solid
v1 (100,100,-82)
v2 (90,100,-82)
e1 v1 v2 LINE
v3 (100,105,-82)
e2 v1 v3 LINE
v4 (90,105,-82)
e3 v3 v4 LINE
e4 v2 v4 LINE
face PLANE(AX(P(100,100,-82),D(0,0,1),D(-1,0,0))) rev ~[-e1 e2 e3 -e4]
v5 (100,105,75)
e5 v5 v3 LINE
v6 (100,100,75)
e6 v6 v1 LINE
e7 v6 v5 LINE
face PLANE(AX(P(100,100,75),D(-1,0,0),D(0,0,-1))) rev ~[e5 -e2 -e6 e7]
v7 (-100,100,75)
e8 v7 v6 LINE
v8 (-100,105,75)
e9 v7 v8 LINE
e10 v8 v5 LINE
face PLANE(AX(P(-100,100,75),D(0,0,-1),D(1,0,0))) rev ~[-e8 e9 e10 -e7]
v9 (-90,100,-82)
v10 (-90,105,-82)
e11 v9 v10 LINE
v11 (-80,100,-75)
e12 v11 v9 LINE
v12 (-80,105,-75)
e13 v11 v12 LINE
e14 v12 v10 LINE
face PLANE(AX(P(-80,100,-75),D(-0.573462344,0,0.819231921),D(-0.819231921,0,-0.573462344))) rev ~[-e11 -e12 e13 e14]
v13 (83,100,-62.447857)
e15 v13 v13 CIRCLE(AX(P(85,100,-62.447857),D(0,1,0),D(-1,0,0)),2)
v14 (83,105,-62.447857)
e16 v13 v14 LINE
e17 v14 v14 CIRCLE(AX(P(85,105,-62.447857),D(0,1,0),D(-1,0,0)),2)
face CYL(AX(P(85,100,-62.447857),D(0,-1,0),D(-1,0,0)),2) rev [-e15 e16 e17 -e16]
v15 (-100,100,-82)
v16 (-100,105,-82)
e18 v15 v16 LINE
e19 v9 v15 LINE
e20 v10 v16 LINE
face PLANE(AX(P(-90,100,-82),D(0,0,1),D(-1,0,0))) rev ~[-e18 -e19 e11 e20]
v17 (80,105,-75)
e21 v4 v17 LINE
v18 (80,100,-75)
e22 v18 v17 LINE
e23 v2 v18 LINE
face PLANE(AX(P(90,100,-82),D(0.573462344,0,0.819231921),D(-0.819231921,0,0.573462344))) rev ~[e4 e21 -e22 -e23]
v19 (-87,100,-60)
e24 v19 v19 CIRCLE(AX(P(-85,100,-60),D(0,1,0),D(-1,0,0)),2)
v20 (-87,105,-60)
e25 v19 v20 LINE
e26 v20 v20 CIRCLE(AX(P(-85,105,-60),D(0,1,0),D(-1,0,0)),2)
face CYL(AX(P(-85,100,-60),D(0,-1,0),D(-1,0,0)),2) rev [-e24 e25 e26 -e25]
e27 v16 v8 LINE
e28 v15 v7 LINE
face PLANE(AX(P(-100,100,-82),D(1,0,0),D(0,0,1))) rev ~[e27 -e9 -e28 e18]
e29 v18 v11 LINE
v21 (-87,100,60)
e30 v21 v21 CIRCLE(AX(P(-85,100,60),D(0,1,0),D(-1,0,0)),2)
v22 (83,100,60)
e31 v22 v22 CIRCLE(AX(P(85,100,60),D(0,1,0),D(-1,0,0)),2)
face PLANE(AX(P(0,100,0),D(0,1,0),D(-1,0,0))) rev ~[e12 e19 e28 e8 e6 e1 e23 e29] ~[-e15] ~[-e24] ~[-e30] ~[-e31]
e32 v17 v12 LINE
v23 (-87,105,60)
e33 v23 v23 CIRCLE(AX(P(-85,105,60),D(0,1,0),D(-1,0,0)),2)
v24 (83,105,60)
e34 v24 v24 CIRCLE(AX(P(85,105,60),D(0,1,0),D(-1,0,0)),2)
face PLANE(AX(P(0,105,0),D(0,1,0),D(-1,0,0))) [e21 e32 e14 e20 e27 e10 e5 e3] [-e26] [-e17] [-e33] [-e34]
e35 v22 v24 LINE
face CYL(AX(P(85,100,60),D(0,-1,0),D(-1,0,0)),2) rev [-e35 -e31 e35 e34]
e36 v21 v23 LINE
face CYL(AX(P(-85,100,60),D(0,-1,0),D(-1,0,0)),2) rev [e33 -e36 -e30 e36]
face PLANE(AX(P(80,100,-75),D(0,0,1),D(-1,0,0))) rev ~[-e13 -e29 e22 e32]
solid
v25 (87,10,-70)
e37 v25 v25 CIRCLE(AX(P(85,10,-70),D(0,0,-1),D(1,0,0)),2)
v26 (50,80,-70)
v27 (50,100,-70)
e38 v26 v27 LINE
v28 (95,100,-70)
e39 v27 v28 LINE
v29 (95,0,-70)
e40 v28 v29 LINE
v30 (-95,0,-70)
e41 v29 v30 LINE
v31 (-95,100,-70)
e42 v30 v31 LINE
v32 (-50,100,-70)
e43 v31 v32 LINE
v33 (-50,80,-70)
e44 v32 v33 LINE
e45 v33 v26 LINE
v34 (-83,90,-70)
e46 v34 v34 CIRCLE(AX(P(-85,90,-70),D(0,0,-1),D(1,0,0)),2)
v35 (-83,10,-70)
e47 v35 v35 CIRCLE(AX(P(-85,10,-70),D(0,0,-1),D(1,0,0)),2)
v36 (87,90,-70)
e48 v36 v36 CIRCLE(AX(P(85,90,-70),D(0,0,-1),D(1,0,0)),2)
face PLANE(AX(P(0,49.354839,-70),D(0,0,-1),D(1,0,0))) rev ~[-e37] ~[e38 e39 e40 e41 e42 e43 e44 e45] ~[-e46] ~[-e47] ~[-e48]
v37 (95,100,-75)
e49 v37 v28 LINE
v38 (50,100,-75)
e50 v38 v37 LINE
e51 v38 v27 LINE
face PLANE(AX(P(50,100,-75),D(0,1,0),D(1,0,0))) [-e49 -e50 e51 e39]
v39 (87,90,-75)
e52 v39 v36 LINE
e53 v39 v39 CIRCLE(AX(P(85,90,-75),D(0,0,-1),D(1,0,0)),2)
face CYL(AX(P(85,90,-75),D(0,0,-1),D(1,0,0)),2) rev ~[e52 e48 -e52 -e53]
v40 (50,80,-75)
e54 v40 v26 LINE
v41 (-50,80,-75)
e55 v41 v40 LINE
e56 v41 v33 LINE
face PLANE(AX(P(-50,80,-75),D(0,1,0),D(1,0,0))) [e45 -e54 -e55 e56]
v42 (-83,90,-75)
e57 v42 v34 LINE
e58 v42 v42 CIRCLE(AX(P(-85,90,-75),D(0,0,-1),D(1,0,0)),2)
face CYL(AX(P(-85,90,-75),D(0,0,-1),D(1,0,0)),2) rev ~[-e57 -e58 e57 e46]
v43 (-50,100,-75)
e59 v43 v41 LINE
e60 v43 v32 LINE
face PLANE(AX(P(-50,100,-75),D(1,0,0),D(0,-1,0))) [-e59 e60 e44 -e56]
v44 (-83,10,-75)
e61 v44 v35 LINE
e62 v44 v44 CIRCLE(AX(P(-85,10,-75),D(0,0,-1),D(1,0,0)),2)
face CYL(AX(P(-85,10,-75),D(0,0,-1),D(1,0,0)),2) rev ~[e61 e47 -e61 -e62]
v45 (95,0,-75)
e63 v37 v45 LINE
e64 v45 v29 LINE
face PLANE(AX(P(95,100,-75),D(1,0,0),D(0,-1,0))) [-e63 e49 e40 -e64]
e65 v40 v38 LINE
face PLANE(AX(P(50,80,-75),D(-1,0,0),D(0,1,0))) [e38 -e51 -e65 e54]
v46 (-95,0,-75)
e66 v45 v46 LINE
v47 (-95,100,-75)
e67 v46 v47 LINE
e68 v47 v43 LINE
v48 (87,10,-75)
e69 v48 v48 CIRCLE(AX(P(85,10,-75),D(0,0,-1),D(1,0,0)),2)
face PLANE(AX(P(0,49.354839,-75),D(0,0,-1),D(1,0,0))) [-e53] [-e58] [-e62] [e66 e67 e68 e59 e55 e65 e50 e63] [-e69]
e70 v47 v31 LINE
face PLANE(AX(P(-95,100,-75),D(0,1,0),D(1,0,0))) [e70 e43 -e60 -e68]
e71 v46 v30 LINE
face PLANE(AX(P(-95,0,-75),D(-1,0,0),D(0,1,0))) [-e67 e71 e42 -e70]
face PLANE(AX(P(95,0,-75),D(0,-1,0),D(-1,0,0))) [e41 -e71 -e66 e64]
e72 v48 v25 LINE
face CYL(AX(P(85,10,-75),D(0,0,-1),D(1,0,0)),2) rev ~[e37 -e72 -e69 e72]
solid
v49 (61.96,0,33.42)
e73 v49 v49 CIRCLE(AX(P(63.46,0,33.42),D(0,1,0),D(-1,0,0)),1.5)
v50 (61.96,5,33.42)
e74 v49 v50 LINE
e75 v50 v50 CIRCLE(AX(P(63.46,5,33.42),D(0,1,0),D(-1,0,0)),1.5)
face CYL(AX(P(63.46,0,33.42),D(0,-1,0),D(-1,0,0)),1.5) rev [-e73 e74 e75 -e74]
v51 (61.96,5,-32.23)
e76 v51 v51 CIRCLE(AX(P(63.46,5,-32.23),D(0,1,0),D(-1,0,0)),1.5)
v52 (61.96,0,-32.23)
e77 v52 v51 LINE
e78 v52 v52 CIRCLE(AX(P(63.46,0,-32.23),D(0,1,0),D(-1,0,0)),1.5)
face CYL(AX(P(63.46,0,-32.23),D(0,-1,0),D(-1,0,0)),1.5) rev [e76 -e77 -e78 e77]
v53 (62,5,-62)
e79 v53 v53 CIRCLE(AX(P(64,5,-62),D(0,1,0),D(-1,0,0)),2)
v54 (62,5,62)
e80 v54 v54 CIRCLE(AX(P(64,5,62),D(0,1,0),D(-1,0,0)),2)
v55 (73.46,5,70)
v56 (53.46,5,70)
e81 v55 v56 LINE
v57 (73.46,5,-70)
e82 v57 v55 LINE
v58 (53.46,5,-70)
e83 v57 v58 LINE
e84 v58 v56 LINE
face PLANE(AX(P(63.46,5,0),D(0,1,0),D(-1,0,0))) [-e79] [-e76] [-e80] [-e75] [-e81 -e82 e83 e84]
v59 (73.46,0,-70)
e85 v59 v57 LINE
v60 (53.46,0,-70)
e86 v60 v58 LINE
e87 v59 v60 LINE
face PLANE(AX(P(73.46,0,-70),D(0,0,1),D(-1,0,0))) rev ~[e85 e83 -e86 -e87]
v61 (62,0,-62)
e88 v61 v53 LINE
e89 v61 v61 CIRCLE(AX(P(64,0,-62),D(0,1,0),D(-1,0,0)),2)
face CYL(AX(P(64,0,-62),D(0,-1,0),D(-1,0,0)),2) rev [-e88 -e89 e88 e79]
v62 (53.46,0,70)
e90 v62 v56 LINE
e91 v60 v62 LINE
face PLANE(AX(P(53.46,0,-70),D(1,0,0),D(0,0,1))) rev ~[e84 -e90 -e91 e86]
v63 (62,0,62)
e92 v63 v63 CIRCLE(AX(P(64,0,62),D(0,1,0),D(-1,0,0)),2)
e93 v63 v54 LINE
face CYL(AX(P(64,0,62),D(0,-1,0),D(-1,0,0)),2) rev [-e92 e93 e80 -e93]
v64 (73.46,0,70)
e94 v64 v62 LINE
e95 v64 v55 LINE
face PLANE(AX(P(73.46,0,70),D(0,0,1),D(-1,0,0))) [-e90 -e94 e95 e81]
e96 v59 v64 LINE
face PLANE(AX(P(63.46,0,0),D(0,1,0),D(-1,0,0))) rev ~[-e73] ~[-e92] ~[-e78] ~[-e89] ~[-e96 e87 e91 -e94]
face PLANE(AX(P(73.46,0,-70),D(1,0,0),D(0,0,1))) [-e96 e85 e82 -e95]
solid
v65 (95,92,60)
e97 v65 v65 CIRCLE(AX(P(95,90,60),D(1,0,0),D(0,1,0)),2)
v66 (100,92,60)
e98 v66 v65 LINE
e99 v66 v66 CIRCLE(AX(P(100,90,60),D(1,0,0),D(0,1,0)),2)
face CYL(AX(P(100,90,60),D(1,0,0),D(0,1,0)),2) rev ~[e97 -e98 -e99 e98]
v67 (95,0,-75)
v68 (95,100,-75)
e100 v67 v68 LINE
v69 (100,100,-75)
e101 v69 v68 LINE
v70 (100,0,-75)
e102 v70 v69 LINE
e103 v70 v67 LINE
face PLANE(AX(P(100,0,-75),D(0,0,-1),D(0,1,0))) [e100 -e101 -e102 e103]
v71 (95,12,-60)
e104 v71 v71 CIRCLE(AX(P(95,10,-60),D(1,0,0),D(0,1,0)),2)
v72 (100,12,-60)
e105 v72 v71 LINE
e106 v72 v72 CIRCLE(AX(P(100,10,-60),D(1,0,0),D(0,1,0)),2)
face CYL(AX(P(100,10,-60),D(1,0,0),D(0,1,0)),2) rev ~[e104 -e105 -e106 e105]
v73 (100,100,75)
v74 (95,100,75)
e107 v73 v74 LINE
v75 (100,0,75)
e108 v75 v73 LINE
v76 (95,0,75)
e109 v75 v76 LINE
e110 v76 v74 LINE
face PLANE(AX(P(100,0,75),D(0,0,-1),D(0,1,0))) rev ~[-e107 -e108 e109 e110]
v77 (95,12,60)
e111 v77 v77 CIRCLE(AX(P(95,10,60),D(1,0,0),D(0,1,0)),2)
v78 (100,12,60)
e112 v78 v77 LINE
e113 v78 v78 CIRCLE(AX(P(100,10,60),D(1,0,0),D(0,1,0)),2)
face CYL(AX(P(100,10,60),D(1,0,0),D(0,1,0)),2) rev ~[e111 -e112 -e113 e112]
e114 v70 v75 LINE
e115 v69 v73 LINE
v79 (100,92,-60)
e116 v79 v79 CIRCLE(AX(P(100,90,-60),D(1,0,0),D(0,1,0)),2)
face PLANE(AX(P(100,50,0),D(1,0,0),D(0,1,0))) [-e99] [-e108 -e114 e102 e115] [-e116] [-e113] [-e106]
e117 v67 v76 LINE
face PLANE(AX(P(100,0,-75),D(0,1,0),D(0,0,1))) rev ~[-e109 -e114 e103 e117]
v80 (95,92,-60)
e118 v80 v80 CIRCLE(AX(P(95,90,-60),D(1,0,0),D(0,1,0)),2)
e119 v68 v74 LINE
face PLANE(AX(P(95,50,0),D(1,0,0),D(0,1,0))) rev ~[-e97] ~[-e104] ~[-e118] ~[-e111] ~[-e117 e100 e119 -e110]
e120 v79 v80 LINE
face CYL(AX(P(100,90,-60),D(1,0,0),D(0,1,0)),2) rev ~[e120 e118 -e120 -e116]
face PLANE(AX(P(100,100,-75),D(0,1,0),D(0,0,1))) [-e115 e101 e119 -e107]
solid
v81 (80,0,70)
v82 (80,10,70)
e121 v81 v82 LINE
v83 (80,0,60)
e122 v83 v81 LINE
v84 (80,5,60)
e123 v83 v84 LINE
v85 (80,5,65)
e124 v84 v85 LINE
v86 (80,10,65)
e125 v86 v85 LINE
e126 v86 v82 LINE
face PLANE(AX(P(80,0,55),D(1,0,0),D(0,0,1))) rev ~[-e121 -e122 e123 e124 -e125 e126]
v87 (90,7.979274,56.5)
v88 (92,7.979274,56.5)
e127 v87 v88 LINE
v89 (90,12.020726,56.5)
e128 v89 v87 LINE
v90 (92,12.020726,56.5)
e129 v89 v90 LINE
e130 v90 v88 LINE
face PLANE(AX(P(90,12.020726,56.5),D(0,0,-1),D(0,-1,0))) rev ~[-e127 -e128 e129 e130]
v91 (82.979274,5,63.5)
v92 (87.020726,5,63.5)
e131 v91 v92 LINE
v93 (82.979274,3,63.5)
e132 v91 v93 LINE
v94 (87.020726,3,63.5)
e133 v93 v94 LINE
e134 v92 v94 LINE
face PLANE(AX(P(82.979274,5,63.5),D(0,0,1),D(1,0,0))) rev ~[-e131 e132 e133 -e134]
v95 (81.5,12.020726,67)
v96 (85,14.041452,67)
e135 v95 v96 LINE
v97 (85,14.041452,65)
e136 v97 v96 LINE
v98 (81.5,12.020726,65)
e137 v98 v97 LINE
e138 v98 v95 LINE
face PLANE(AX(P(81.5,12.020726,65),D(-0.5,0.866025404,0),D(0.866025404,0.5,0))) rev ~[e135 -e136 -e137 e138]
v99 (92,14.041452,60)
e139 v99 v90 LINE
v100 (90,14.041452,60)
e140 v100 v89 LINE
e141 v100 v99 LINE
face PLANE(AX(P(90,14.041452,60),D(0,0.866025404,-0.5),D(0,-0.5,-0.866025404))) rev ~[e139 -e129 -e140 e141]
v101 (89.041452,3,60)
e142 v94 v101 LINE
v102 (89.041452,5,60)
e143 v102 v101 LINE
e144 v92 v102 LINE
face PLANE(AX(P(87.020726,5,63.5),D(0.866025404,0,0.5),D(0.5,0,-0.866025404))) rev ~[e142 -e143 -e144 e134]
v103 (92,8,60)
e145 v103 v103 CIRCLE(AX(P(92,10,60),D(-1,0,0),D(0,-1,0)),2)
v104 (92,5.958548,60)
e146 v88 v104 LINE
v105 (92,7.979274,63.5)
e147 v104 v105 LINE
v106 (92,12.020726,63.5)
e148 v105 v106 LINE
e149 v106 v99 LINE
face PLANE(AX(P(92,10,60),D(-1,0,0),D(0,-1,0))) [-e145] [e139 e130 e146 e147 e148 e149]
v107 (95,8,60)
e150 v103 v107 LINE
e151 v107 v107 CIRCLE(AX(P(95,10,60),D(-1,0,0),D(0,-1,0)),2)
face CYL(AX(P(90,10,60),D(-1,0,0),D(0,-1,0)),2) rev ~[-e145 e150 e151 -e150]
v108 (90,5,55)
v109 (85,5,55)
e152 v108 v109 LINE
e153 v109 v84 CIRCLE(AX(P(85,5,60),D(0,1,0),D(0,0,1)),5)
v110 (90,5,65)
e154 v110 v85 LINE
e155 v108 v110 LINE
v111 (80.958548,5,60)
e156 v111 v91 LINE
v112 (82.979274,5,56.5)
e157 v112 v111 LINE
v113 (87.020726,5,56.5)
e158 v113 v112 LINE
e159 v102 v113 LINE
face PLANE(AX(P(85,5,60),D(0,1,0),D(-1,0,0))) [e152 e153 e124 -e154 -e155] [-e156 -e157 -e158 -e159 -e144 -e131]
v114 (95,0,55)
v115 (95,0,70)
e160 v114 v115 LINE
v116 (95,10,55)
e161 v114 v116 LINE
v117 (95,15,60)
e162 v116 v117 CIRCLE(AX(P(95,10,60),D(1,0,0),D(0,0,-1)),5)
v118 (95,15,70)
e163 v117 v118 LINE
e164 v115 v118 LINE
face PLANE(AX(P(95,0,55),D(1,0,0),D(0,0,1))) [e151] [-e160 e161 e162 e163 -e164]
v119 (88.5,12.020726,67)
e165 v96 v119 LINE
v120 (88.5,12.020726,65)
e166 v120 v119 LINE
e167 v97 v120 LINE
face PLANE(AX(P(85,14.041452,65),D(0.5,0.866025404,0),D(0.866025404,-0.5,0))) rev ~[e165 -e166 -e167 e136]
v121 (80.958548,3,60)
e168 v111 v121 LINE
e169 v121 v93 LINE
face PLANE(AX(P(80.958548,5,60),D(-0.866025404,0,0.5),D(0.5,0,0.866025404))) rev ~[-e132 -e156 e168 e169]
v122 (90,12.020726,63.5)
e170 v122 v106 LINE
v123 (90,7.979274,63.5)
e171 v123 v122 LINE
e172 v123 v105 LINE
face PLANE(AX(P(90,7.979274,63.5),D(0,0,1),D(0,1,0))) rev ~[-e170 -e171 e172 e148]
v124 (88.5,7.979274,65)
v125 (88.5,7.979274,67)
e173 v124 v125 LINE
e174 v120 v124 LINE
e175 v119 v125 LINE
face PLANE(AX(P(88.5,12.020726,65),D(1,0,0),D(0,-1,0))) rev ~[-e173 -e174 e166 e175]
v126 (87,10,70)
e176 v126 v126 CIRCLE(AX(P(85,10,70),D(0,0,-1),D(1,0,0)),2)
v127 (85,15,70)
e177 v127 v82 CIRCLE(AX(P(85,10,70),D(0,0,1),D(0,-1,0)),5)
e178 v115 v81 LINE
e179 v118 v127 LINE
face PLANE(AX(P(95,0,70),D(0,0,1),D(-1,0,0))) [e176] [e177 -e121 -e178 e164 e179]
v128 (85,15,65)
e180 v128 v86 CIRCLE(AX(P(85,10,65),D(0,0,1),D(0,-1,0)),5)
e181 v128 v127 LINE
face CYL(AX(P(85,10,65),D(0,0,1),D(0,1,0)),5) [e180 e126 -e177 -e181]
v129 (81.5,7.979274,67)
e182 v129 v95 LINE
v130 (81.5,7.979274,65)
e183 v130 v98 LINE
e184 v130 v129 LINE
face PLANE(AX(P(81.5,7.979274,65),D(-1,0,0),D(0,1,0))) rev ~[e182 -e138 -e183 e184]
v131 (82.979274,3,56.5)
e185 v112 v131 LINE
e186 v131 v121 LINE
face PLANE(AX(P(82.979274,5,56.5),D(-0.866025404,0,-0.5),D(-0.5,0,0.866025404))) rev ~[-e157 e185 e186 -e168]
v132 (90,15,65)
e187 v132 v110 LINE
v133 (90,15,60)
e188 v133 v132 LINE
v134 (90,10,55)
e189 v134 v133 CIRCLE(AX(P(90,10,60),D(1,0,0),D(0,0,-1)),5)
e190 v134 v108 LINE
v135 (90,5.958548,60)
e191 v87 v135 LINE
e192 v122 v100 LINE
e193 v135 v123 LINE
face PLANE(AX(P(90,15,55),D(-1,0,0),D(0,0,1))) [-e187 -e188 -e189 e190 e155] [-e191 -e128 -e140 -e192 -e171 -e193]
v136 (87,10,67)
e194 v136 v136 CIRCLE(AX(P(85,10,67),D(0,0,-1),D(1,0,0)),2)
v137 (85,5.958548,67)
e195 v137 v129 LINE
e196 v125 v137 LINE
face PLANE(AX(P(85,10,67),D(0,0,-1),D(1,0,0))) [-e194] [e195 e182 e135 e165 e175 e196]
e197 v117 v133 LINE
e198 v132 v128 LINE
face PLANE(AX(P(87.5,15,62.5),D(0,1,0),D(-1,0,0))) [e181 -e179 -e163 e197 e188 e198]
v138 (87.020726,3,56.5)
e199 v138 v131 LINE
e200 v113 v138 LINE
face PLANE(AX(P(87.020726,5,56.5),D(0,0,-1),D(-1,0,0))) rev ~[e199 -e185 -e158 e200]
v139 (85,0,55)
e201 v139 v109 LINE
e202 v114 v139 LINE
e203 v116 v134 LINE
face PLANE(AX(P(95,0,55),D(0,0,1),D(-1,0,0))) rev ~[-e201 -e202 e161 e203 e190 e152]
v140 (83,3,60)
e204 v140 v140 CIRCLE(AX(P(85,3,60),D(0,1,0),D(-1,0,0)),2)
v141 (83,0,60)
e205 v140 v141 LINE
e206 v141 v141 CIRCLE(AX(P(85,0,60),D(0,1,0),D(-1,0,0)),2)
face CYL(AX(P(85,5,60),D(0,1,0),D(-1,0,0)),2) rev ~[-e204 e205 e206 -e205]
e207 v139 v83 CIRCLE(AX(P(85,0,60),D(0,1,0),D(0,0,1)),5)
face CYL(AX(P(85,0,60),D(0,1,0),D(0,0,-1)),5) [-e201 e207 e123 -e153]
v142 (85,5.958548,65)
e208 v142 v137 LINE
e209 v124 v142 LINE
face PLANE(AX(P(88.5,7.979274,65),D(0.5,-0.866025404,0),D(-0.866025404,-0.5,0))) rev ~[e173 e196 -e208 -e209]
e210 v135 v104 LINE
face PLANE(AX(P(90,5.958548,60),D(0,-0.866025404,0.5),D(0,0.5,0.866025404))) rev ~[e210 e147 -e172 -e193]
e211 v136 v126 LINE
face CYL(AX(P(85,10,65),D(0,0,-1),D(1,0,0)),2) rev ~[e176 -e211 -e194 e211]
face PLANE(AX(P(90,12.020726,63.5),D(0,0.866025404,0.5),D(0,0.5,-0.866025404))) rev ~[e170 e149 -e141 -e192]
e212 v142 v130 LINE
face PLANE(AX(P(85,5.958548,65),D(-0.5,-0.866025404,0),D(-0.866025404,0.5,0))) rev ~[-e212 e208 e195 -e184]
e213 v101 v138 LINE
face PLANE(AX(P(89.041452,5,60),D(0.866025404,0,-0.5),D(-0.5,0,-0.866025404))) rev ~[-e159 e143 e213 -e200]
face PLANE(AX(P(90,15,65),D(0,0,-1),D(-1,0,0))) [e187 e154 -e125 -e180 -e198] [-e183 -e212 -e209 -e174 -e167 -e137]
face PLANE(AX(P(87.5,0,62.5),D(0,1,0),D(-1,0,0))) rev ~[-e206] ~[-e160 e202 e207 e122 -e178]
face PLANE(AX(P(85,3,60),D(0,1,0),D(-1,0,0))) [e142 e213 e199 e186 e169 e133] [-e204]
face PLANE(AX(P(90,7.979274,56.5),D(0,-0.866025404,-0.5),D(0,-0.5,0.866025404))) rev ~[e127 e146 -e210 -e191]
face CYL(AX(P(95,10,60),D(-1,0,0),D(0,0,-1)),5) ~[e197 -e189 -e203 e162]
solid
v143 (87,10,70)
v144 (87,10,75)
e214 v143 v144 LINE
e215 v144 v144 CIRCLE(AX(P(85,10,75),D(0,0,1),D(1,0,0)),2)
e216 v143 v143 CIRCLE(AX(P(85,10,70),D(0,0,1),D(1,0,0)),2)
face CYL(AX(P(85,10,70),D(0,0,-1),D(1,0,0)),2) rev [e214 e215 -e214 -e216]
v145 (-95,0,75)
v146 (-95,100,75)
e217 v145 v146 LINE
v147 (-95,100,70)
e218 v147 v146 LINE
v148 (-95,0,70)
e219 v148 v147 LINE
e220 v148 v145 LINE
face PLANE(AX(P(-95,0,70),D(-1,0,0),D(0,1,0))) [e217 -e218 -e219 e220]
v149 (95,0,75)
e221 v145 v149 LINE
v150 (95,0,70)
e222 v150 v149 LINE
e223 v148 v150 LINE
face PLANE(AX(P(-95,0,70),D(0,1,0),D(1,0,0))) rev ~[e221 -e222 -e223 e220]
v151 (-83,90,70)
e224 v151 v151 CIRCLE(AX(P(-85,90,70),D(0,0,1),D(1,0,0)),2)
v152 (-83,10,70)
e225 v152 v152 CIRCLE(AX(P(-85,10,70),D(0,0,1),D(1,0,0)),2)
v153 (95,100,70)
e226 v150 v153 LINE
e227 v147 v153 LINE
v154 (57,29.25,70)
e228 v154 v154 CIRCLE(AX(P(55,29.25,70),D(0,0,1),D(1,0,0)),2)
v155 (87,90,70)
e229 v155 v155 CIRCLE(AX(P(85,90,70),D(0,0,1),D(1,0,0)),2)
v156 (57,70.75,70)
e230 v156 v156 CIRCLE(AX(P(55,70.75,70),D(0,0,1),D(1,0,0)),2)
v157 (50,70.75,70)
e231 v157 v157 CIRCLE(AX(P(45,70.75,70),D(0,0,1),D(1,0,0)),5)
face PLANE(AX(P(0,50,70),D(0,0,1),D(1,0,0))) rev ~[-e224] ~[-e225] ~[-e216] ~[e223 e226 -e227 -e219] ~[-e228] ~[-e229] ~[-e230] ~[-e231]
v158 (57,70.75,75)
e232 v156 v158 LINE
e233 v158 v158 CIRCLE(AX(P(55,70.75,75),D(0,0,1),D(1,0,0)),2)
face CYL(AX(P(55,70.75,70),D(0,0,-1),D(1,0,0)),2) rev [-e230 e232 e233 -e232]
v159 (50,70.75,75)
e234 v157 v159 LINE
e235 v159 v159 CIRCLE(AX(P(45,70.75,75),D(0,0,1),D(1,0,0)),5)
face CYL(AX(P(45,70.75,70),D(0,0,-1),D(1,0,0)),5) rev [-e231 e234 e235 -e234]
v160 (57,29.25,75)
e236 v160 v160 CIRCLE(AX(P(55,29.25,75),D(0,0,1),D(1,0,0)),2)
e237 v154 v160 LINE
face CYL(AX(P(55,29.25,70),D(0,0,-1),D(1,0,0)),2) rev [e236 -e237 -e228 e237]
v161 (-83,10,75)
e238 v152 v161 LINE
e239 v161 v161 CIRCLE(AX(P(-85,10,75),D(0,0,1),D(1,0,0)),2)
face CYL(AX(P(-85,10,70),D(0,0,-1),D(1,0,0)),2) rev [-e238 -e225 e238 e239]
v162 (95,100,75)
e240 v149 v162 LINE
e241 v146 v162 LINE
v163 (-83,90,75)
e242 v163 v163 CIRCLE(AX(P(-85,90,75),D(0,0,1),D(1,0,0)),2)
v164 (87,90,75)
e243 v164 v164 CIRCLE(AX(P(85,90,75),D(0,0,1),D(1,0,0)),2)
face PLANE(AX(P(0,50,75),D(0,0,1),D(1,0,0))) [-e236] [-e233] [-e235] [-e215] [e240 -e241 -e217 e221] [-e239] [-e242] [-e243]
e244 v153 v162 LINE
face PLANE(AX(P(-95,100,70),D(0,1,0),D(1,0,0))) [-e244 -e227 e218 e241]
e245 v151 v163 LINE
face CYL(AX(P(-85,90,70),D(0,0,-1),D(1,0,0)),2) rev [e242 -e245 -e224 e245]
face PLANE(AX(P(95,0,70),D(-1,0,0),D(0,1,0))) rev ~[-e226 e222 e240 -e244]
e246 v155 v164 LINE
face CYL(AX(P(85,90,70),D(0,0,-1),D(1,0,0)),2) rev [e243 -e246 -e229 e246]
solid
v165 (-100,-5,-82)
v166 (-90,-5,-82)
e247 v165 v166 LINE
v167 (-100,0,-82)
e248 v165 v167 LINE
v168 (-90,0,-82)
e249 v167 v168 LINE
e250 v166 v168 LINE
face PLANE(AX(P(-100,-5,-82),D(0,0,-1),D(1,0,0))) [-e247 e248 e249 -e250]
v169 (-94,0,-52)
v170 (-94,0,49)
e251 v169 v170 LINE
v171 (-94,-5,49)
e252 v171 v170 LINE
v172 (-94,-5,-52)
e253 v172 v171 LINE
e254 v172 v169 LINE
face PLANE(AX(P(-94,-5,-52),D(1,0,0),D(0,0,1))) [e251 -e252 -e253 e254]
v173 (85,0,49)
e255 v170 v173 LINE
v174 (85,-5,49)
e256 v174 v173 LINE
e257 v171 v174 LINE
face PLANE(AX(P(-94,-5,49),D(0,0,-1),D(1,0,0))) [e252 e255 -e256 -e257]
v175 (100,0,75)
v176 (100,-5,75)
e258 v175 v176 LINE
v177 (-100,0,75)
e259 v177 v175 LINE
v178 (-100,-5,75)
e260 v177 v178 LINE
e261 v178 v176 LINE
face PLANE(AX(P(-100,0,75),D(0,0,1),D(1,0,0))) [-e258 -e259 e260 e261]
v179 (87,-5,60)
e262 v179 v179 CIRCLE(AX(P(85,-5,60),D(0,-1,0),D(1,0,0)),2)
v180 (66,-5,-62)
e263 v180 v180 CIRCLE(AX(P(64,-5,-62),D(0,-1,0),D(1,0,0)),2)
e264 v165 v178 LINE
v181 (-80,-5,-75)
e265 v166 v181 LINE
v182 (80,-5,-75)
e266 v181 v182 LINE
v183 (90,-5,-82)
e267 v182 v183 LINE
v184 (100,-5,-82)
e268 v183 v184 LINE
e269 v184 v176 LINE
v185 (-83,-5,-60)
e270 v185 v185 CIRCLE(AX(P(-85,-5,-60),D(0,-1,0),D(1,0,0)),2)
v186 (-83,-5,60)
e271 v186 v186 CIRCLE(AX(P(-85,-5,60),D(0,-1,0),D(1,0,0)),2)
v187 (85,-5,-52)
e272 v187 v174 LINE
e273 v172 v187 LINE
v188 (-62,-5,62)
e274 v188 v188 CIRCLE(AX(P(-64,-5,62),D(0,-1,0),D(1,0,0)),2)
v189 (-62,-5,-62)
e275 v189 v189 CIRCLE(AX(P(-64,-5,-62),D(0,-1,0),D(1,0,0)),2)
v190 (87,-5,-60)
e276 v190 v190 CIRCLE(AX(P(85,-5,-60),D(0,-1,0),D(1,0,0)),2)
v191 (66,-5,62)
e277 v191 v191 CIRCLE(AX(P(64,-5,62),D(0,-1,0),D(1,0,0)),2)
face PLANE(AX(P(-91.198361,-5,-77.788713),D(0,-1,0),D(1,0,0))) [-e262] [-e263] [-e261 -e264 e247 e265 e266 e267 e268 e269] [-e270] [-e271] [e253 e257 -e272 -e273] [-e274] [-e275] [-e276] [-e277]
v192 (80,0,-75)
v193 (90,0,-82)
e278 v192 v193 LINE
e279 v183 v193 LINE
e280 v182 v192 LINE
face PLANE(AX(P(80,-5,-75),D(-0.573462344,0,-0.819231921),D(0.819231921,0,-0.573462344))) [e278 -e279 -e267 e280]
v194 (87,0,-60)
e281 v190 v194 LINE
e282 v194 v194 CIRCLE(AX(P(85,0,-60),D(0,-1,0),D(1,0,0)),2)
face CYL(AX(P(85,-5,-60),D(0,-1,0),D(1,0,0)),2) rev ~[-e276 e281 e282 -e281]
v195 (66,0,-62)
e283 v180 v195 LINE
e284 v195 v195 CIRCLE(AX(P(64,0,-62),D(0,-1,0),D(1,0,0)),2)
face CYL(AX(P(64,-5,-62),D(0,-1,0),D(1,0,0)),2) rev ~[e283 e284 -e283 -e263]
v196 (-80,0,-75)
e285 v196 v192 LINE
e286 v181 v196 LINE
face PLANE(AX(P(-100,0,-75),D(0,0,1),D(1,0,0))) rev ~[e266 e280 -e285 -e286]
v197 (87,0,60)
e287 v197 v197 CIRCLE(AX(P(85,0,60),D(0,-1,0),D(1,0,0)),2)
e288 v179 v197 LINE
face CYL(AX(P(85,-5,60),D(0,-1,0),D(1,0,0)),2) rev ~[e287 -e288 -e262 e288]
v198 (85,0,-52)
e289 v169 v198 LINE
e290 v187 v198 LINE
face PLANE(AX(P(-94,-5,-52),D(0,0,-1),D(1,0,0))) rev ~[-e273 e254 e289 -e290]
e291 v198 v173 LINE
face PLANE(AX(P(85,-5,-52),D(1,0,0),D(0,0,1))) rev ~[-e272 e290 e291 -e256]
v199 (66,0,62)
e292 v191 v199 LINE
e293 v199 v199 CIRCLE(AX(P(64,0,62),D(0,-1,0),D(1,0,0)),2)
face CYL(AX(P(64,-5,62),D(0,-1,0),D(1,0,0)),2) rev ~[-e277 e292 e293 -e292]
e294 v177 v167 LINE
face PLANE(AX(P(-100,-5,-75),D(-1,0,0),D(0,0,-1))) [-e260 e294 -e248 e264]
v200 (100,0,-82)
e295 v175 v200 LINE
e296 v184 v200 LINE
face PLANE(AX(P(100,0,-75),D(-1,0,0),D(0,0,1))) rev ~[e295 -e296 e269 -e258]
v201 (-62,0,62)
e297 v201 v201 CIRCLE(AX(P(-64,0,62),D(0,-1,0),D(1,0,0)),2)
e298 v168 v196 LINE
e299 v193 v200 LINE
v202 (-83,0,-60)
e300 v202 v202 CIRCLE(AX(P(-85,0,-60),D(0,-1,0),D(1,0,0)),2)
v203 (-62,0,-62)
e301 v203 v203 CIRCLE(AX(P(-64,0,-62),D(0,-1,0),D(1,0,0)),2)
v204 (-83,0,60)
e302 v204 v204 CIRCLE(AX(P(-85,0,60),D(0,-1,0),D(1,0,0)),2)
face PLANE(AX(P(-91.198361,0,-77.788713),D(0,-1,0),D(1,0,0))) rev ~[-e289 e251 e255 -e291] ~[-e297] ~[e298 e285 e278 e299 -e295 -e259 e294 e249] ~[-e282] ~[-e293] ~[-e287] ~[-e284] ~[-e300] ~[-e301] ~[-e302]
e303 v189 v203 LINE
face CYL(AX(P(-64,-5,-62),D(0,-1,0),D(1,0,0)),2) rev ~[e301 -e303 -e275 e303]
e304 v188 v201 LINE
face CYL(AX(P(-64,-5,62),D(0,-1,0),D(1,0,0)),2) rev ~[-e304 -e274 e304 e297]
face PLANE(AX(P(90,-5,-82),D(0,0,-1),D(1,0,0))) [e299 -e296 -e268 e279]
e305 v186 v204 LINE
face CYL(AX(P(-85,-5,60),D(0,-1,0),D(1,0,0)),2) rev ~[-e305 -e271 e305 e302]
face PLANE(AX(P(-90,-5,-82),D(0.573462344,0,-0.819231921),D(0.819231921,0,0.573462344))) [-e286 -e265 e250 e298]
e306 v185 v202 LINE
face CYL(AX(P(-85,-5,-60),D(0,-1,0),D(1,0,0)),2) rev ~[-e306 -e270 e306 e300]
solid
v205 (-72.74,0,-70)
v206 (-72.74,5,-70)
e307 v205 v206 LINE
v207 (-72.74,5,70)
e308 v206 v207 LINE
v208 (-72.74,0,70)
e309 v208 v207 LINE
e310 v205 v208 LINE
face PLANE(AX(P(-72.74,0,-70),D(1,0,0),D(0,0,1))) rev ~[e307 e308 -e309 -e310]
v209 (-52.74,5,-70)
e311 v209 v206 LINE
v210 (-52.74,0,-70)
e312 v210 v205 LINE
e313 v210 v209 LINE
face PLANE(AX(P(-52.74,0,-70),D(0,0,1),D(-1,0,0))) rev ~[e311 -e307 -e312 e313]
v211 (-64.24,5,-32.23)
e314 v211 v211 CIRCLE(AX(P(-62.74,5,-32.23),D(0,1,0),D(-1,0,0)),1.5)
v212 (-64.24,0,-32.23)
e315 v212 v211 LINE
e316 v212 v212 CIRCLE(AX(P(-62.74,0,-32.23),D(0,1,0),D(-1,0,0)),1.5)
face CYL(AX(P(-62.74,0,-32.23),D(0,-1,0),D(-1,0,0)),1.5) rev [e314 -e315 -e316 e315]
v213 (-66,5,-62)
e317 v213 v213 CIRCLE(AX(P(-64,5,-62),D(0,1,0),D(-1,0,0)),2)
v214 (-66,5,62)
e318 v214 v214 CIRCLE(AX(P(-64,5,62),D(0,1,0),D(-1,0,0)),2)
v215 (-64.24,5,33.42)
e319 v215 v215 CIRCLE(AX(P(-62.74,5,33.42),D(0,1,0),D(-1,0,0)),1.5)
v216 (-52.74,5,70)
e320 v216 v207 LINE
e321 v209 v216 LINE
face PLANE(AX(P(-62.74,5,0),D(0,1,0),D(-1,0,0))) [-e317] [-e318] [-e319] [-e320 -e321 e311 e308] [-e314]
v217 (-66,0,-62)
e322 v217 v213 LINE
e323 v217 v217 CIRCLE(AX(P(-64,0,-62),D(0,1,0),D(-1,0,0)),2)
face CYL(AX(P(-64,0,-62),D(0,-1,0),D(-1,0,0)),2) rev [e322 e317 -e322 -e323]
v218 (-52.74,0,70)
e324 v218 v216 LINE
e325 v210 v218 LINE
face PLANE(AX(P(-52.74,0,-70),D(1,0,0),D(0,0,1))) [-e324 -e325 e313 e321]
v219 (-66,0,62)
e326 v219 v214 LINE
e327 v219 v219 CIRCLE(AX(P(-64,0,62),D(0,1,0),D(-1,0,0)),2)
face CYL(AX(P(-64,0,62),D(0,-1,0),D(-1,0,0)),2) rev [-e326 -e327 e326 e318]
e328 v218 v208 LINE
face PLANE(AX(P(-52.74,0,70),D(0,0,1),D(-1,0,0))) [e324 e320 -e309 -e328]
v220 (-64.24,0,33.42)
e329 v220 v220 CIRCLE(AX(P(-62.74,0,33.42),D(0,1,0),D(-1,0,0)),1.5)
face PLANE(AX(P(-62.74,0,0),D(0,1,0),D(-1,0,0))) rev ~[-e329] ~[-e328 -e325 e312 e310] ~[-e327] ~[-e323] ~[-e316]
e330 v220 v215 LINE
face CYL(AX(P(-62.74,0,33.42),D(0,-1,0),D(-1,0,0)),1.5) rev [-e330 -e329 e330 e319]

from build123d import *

# Parameters (mm, degrees)
F0_W      = 200
F0_H      = 150
F1_DEPTH  = 5
F3_W      = 179
F3_H      = 101
F3_R      = 2
F4_DEPTH  = 5.001
F5_W      = 20
F5_H      = 140
F5_R      = 2
F5_R_2    = 1.5
F6_DEPTH  = 5
F7_W      = 100
F7_H      = 150
F7_R      = 2
F8_DEPTH  = 5
F9_W      = 190
F9_H      = 100
F9_R      = 2
F9_R_2    = 5
F10_DEPTH = 5
F11_W     = 15
F11_H     = 15
F12_DEPTH = 15
F13_W     = 10
F13_H     = 10
F14_DEPTH = 10
F15_R     = 2
F16_DEPTH = 10.001
F17_R     = 5
F18_R     = 2
F19_DEPTH = 10.001
F20_R     = 2
F21_DEPTH = 10.001
F23_DEPTH = 5
F24_R     = 2
F25_DEPTH = 5
F26_R     = 2
F27_DEPTH = 5
F28_R     = 2
F29_DEPTH = 2
F31_DEPTH = 2
F33_DEPTH = 2


with BuildPart() as f1:
    # F0 (on Front) → F1 (new body)
    with BuildSketch(Plane.XZ):
        Rectangle(F0_W, F0_H)
    extrude(amount=F1_DEPTH)

    # F3 (on face) → F4 (cut, through all)
    with BuildSketch(Plane.XZ.offset(5)):
        with Locations((-4.5, -1.5)):
            Rectangle(F3_W, F3_H)
        with Locations((64, 62)):
            Circle(F3_R)
        with Locations((-64, 62)):
            Circle(F3_R)
        with Locations((-64, -62)):
            Circle(F3_R)
        with Locations((64, -62)):
            Circle(F3_R)
        with Locations((85, 60)):
            Circle(F3_R)
        with Locations((-85, -60)):
            Circle(F3_R)
        with Locations((85, -60)):
            Circle(F3_R)
        with Locations((-85, 60)):
            Circle(F3_R)
    extrude(amount=-F4_DEPTH, mode=Mode.SUBTRACT)

    # F22 (on face) → F23 (join)
    with BuildSketch(Plane.XZ.offset(5)):
        Polygon((-80, -75), (-100, -75), (-100, -82), (-90, -82), align=None)
        Polygon((100, -82), (100, -75), (80, -75), (90, -82), align=None)
    extrude(amount=-F23_DEPTH)


with BuildPart() as f6:
    # F5 (on face) → F6 (new body)
    with BuildSketch(Plane(origin=(0, 0, 0), x_dir=(-1, 0, 0), z_dir=(0, 1, 0))):
        with Locations((-63.46, 0)):
            Rectangle(F5_W, F5_H)
        with Locations((-64, -62)):
            Circle(F5_R, mode=Mode.SUBTRACT)
        with Locations((-63.46, -32.23)):
            Circle(F5_R_2, mode=Mode.SUBTRACT)
        with Locations((-63.46, 33.42)):
            Circle(F5_R_2, mode=Mode.SUBTRACT)
        with Locations((-64, 62)):
            Circle(F5_R, mode=Mode.SUBTRACT)
    extrude(amount=F6_DEPTH)


with BuildPart() as f6b:
    # F5 (on face) → F6, piece 2 (new body)
    with BuildSketch(Plane(origin=(0, 0, 0), x_dir=(-1, 0, 0), z_dir=(0, 1, 0))):
        with Locations((62.74, 0)):
            Rectangle(F5_W, F5_H)
        with Locations((64, -62)):
            Circle(F5_R, mode=Mode.SUBTRACT)
        with Locations((62.74, -32.23)):
            Circle(F5_R_2, mode=Mode.SUBTRACT)
        with Locations((62.74, 33.42)):
            Circle(F5_R_2, mode=Mode.SUBTRACT)
        with Locations((64, 62)):
            Circle(F5_R, mode=Mode.SUBTRACT)
    extrude(amount=F6_DEPTH)


with BuildPart() as f8:
    # F7 (on face) → F8 (new body)
    with BuildSketch(Plane.YZ.offset(100)):
        with Locations((50, 0)):
            Rectangle(F7_W, F7_H)
        with Locations((10, -60)):
            Circle(F7_R, mode=Mode.SUBTRACT)
        with Locations((90, -60)):
            Circle(F7_R, mode=Mode.SUBTRACT)
        with Locations((10, 60)):
            Circle(F7_R, mode=Mode.SUBTRACT)
        with Locations((90, 60)):
            Circle(F7_R, mode=Mode.SUBTRACT)
    extrude(amount=-F8_DEPTH)


with BuildPart() as f10:
    # F9 (on face) → F10 (new body)
    with BuildSketch(Plane.XY.offset(70)):
        with Locations((0, 50)):
            Rectangle(F9_W, F9_H)
        with Locations((-85, 10)):
            Circle(F9_R, mode=Mode.SUBTRACT)
        with Locations((85, 10)):
            Circle(F9_R, mode=Mode.SUBTRACT)
        with Locations((55, 29.25)):
            Circle(F9_R, mode=Mode.SUBTRACT)
        with Locations((-85, 90)):
            Circle(F9_R, mode=Mode.SUBTRACT)
        with Locations((45, 70.75)):
            Circle(F9_R_2, mode=Mode.SUBTRACT)
        with Locations((55, 70.75)):
            Circle(F9_R, mode=Mode.SUBTRACT)
        with Locations((85, 90)):
            Circle(F9_R, mode=Mode.SUBTRACT)
    extrude(amount=F10_DEPTH)


with BuildPart() as f12:
    # F11 (on face) → F12 (new body)
    with BuildSketch(Plane(origin=(0, 0, 0), x_dir=(-1, 0, 0), z_dir=(0, 1, 0))):
        with Locations((-87.5, 62.5)):
            Rectangle(F11_W, F11_H)
    extrude(amount=F12_DEPTH)

    # F13 (on face) → F14 (cut)
    with BuildSketch(Plane(origin=(0, 15, 0), x_dir=(-1, 0, 0), z_dir=(0, 1, 0))):
        with Locations((-85, 60)):
            Rectangle(F13_W, F13_H)
    extrude(amount=-F14_DEPTH, mode=Mode.SUBTRACT)

    # F15 (on face) → F16 (cut, through all)
    with BuildSketch(Plane(origin=(0, 5, 0), x_dir=(-1, 0, 0), z_dir=(0, 1, 0))):
        with Locations((-85, 60)):
            Circle(F15_R)
    extrude(amount=-F16_DEPTH, mode=Mode.SUBTRACT)

    # F17
    f17_edges = [f12.edges().sort_by_distance(p)[0] for p in [
        (80, 15, 67.5),
        (92.5, 15, 55),
        (80, 2.5, 55),
    ]]
    fillet(f17_edges, radius=F17_R)

    # F18 (on face) → F19 (cut, through all)
    with BuildSketch(Plane(origin=(0, 0, 65), x_dir=(1, 0, 0), z_dir=(0, 0, -1))):
        with Locations((85, -10)):
            Circle(F18_R)
    extrude(amount=-F19_DEPTH, mode=Mode.SUBTRACT)

    # F20 (on face) → F21 (cut, through all)
    with BuildSketch(Plane(origin=(90, 0, 0), x_dir=(0, -1, 0), z_dir=(-1, 0, 0))):
        with Locations((-10, 60)):
            Circle(F20_R)
    extrude(amount=-F21_DEPTH, mode=Mode.SUBTRACT)

    # F28 (on face) → F29 (cut)
    with BuildSketch(Plane(origin=(90, 0, 0), x_dir=(0, -1, 0), z_dir=(-1, 0, 0))):
        Polygon((-12.0207259422, 56.5), (-7.9792740578, 56.5), (-5.9585481157, 60), (-7.9792740578, 63.5), (-12.0207259422, 63.5), (-14.0414518843, 60), align=None)
        with Locations((-10, 60)):
            Circle(F28_R, mode=Mode.SUBTRACT)
    extrude(amount=-F29_DEPTH, mode=Mode.SUBTRACT)

    # F30 (on face) → F31 (cut)
    with BuildSketch(Plane(origin=(0, 0, 65), x_dir=(1, 0, 0), z_dir=(0, 0, -1))):
        Polygon((88.5, -12.0207259422), (88.5, -7.9792740578), (85, -5.9585481157), (81.5, -7.9792740578), (81.5, -12.0207259422), (85, -14.0414518843), align=None)
    extrude(amount=-F31_DEPTH, mode=Mode.SUBTRACT)

    # F32 (on face) → F33 (cut)
    with BuildSketch(Plane(origin=(0, 5, 0), x_dir=(-1, 0, 0), z_dir=(0, 1, 0))):
        Polygon((-82.9792740578, 63.5), (-87.0207259422, 63.5), (-89.0414518843, 60), (-87.0207259422, 56.5), (-82.9792740578, 56.5), (-80.9585481157, 60), align=None)
    extrude(amount=-F33_DEPTH, mode=Mode.SUBTRACT)


with BuildPart() as f25:
    # F24 (on face) → F25 (new body)
    with BuildSketch(Plane(origin=(0, 100, 0), x_dir=(-1, 0, 0), z_dir=(0, 1, 0))):
        Polygon((100, 75), (-100, 75), (-100, -75), (-80, -75), (80, -75), (100, -75), align=None)
        with Locations((-85, -62.4478571117)):
            Circle(F24_R, mode=Mode.SUBTRACT)
        with Locations((85, -60)):
            Circle(F24_R, mode=Mode.SUBTRACT)
        with Locations((-85, 60)):
            Circle(F24_R, mode=Mode.SUBTRACT)
        with Locations((85, 60)):
            Circle(F24_R, mode=Mode.SUBTRACT)
        Polygon((-80, -75), (-100, -75), (-100, -82), (-90, -82), align=None)
        Polygon((100, -82), (100, -75), (80, -75), (90, -82), align=None)
    extrude(amount=F25_DEPTH)


with BuildPart() as f27:
    # F26 (on face) → F27 (new body)
    with BuildSketch(Plane(origin=(0, 0, -75), x_dir=(1, 0, 0), z_dir=(0, 0, -1))):
        Polygon((50, -100), (95, -100), (95, 0), (-95, 0), (-95, -100), (-50, -100), (-50, -80), (50, -80), align=None)
        with Locations((-85, -90)):
            Circle(F26_R, mode=Mode.SUBTRACT)
        with Locations((85, -90)):
            Circle(F26_R, mode=Mode.SUBTRACT)
        with Locations((-85, -10)):
            Circle(F26_R, mode=Mode.SUBTRACT)
        with Locations((85, -10)):
            Circle(F26_R, mode=Mode.SUBTRACT)
    extrude(amount=-F27_DEPTH)


solid = Compound([f1.part, f6.part, f6b.part, f8.part, f10.part, f12.part, f25.part, f27.part])
